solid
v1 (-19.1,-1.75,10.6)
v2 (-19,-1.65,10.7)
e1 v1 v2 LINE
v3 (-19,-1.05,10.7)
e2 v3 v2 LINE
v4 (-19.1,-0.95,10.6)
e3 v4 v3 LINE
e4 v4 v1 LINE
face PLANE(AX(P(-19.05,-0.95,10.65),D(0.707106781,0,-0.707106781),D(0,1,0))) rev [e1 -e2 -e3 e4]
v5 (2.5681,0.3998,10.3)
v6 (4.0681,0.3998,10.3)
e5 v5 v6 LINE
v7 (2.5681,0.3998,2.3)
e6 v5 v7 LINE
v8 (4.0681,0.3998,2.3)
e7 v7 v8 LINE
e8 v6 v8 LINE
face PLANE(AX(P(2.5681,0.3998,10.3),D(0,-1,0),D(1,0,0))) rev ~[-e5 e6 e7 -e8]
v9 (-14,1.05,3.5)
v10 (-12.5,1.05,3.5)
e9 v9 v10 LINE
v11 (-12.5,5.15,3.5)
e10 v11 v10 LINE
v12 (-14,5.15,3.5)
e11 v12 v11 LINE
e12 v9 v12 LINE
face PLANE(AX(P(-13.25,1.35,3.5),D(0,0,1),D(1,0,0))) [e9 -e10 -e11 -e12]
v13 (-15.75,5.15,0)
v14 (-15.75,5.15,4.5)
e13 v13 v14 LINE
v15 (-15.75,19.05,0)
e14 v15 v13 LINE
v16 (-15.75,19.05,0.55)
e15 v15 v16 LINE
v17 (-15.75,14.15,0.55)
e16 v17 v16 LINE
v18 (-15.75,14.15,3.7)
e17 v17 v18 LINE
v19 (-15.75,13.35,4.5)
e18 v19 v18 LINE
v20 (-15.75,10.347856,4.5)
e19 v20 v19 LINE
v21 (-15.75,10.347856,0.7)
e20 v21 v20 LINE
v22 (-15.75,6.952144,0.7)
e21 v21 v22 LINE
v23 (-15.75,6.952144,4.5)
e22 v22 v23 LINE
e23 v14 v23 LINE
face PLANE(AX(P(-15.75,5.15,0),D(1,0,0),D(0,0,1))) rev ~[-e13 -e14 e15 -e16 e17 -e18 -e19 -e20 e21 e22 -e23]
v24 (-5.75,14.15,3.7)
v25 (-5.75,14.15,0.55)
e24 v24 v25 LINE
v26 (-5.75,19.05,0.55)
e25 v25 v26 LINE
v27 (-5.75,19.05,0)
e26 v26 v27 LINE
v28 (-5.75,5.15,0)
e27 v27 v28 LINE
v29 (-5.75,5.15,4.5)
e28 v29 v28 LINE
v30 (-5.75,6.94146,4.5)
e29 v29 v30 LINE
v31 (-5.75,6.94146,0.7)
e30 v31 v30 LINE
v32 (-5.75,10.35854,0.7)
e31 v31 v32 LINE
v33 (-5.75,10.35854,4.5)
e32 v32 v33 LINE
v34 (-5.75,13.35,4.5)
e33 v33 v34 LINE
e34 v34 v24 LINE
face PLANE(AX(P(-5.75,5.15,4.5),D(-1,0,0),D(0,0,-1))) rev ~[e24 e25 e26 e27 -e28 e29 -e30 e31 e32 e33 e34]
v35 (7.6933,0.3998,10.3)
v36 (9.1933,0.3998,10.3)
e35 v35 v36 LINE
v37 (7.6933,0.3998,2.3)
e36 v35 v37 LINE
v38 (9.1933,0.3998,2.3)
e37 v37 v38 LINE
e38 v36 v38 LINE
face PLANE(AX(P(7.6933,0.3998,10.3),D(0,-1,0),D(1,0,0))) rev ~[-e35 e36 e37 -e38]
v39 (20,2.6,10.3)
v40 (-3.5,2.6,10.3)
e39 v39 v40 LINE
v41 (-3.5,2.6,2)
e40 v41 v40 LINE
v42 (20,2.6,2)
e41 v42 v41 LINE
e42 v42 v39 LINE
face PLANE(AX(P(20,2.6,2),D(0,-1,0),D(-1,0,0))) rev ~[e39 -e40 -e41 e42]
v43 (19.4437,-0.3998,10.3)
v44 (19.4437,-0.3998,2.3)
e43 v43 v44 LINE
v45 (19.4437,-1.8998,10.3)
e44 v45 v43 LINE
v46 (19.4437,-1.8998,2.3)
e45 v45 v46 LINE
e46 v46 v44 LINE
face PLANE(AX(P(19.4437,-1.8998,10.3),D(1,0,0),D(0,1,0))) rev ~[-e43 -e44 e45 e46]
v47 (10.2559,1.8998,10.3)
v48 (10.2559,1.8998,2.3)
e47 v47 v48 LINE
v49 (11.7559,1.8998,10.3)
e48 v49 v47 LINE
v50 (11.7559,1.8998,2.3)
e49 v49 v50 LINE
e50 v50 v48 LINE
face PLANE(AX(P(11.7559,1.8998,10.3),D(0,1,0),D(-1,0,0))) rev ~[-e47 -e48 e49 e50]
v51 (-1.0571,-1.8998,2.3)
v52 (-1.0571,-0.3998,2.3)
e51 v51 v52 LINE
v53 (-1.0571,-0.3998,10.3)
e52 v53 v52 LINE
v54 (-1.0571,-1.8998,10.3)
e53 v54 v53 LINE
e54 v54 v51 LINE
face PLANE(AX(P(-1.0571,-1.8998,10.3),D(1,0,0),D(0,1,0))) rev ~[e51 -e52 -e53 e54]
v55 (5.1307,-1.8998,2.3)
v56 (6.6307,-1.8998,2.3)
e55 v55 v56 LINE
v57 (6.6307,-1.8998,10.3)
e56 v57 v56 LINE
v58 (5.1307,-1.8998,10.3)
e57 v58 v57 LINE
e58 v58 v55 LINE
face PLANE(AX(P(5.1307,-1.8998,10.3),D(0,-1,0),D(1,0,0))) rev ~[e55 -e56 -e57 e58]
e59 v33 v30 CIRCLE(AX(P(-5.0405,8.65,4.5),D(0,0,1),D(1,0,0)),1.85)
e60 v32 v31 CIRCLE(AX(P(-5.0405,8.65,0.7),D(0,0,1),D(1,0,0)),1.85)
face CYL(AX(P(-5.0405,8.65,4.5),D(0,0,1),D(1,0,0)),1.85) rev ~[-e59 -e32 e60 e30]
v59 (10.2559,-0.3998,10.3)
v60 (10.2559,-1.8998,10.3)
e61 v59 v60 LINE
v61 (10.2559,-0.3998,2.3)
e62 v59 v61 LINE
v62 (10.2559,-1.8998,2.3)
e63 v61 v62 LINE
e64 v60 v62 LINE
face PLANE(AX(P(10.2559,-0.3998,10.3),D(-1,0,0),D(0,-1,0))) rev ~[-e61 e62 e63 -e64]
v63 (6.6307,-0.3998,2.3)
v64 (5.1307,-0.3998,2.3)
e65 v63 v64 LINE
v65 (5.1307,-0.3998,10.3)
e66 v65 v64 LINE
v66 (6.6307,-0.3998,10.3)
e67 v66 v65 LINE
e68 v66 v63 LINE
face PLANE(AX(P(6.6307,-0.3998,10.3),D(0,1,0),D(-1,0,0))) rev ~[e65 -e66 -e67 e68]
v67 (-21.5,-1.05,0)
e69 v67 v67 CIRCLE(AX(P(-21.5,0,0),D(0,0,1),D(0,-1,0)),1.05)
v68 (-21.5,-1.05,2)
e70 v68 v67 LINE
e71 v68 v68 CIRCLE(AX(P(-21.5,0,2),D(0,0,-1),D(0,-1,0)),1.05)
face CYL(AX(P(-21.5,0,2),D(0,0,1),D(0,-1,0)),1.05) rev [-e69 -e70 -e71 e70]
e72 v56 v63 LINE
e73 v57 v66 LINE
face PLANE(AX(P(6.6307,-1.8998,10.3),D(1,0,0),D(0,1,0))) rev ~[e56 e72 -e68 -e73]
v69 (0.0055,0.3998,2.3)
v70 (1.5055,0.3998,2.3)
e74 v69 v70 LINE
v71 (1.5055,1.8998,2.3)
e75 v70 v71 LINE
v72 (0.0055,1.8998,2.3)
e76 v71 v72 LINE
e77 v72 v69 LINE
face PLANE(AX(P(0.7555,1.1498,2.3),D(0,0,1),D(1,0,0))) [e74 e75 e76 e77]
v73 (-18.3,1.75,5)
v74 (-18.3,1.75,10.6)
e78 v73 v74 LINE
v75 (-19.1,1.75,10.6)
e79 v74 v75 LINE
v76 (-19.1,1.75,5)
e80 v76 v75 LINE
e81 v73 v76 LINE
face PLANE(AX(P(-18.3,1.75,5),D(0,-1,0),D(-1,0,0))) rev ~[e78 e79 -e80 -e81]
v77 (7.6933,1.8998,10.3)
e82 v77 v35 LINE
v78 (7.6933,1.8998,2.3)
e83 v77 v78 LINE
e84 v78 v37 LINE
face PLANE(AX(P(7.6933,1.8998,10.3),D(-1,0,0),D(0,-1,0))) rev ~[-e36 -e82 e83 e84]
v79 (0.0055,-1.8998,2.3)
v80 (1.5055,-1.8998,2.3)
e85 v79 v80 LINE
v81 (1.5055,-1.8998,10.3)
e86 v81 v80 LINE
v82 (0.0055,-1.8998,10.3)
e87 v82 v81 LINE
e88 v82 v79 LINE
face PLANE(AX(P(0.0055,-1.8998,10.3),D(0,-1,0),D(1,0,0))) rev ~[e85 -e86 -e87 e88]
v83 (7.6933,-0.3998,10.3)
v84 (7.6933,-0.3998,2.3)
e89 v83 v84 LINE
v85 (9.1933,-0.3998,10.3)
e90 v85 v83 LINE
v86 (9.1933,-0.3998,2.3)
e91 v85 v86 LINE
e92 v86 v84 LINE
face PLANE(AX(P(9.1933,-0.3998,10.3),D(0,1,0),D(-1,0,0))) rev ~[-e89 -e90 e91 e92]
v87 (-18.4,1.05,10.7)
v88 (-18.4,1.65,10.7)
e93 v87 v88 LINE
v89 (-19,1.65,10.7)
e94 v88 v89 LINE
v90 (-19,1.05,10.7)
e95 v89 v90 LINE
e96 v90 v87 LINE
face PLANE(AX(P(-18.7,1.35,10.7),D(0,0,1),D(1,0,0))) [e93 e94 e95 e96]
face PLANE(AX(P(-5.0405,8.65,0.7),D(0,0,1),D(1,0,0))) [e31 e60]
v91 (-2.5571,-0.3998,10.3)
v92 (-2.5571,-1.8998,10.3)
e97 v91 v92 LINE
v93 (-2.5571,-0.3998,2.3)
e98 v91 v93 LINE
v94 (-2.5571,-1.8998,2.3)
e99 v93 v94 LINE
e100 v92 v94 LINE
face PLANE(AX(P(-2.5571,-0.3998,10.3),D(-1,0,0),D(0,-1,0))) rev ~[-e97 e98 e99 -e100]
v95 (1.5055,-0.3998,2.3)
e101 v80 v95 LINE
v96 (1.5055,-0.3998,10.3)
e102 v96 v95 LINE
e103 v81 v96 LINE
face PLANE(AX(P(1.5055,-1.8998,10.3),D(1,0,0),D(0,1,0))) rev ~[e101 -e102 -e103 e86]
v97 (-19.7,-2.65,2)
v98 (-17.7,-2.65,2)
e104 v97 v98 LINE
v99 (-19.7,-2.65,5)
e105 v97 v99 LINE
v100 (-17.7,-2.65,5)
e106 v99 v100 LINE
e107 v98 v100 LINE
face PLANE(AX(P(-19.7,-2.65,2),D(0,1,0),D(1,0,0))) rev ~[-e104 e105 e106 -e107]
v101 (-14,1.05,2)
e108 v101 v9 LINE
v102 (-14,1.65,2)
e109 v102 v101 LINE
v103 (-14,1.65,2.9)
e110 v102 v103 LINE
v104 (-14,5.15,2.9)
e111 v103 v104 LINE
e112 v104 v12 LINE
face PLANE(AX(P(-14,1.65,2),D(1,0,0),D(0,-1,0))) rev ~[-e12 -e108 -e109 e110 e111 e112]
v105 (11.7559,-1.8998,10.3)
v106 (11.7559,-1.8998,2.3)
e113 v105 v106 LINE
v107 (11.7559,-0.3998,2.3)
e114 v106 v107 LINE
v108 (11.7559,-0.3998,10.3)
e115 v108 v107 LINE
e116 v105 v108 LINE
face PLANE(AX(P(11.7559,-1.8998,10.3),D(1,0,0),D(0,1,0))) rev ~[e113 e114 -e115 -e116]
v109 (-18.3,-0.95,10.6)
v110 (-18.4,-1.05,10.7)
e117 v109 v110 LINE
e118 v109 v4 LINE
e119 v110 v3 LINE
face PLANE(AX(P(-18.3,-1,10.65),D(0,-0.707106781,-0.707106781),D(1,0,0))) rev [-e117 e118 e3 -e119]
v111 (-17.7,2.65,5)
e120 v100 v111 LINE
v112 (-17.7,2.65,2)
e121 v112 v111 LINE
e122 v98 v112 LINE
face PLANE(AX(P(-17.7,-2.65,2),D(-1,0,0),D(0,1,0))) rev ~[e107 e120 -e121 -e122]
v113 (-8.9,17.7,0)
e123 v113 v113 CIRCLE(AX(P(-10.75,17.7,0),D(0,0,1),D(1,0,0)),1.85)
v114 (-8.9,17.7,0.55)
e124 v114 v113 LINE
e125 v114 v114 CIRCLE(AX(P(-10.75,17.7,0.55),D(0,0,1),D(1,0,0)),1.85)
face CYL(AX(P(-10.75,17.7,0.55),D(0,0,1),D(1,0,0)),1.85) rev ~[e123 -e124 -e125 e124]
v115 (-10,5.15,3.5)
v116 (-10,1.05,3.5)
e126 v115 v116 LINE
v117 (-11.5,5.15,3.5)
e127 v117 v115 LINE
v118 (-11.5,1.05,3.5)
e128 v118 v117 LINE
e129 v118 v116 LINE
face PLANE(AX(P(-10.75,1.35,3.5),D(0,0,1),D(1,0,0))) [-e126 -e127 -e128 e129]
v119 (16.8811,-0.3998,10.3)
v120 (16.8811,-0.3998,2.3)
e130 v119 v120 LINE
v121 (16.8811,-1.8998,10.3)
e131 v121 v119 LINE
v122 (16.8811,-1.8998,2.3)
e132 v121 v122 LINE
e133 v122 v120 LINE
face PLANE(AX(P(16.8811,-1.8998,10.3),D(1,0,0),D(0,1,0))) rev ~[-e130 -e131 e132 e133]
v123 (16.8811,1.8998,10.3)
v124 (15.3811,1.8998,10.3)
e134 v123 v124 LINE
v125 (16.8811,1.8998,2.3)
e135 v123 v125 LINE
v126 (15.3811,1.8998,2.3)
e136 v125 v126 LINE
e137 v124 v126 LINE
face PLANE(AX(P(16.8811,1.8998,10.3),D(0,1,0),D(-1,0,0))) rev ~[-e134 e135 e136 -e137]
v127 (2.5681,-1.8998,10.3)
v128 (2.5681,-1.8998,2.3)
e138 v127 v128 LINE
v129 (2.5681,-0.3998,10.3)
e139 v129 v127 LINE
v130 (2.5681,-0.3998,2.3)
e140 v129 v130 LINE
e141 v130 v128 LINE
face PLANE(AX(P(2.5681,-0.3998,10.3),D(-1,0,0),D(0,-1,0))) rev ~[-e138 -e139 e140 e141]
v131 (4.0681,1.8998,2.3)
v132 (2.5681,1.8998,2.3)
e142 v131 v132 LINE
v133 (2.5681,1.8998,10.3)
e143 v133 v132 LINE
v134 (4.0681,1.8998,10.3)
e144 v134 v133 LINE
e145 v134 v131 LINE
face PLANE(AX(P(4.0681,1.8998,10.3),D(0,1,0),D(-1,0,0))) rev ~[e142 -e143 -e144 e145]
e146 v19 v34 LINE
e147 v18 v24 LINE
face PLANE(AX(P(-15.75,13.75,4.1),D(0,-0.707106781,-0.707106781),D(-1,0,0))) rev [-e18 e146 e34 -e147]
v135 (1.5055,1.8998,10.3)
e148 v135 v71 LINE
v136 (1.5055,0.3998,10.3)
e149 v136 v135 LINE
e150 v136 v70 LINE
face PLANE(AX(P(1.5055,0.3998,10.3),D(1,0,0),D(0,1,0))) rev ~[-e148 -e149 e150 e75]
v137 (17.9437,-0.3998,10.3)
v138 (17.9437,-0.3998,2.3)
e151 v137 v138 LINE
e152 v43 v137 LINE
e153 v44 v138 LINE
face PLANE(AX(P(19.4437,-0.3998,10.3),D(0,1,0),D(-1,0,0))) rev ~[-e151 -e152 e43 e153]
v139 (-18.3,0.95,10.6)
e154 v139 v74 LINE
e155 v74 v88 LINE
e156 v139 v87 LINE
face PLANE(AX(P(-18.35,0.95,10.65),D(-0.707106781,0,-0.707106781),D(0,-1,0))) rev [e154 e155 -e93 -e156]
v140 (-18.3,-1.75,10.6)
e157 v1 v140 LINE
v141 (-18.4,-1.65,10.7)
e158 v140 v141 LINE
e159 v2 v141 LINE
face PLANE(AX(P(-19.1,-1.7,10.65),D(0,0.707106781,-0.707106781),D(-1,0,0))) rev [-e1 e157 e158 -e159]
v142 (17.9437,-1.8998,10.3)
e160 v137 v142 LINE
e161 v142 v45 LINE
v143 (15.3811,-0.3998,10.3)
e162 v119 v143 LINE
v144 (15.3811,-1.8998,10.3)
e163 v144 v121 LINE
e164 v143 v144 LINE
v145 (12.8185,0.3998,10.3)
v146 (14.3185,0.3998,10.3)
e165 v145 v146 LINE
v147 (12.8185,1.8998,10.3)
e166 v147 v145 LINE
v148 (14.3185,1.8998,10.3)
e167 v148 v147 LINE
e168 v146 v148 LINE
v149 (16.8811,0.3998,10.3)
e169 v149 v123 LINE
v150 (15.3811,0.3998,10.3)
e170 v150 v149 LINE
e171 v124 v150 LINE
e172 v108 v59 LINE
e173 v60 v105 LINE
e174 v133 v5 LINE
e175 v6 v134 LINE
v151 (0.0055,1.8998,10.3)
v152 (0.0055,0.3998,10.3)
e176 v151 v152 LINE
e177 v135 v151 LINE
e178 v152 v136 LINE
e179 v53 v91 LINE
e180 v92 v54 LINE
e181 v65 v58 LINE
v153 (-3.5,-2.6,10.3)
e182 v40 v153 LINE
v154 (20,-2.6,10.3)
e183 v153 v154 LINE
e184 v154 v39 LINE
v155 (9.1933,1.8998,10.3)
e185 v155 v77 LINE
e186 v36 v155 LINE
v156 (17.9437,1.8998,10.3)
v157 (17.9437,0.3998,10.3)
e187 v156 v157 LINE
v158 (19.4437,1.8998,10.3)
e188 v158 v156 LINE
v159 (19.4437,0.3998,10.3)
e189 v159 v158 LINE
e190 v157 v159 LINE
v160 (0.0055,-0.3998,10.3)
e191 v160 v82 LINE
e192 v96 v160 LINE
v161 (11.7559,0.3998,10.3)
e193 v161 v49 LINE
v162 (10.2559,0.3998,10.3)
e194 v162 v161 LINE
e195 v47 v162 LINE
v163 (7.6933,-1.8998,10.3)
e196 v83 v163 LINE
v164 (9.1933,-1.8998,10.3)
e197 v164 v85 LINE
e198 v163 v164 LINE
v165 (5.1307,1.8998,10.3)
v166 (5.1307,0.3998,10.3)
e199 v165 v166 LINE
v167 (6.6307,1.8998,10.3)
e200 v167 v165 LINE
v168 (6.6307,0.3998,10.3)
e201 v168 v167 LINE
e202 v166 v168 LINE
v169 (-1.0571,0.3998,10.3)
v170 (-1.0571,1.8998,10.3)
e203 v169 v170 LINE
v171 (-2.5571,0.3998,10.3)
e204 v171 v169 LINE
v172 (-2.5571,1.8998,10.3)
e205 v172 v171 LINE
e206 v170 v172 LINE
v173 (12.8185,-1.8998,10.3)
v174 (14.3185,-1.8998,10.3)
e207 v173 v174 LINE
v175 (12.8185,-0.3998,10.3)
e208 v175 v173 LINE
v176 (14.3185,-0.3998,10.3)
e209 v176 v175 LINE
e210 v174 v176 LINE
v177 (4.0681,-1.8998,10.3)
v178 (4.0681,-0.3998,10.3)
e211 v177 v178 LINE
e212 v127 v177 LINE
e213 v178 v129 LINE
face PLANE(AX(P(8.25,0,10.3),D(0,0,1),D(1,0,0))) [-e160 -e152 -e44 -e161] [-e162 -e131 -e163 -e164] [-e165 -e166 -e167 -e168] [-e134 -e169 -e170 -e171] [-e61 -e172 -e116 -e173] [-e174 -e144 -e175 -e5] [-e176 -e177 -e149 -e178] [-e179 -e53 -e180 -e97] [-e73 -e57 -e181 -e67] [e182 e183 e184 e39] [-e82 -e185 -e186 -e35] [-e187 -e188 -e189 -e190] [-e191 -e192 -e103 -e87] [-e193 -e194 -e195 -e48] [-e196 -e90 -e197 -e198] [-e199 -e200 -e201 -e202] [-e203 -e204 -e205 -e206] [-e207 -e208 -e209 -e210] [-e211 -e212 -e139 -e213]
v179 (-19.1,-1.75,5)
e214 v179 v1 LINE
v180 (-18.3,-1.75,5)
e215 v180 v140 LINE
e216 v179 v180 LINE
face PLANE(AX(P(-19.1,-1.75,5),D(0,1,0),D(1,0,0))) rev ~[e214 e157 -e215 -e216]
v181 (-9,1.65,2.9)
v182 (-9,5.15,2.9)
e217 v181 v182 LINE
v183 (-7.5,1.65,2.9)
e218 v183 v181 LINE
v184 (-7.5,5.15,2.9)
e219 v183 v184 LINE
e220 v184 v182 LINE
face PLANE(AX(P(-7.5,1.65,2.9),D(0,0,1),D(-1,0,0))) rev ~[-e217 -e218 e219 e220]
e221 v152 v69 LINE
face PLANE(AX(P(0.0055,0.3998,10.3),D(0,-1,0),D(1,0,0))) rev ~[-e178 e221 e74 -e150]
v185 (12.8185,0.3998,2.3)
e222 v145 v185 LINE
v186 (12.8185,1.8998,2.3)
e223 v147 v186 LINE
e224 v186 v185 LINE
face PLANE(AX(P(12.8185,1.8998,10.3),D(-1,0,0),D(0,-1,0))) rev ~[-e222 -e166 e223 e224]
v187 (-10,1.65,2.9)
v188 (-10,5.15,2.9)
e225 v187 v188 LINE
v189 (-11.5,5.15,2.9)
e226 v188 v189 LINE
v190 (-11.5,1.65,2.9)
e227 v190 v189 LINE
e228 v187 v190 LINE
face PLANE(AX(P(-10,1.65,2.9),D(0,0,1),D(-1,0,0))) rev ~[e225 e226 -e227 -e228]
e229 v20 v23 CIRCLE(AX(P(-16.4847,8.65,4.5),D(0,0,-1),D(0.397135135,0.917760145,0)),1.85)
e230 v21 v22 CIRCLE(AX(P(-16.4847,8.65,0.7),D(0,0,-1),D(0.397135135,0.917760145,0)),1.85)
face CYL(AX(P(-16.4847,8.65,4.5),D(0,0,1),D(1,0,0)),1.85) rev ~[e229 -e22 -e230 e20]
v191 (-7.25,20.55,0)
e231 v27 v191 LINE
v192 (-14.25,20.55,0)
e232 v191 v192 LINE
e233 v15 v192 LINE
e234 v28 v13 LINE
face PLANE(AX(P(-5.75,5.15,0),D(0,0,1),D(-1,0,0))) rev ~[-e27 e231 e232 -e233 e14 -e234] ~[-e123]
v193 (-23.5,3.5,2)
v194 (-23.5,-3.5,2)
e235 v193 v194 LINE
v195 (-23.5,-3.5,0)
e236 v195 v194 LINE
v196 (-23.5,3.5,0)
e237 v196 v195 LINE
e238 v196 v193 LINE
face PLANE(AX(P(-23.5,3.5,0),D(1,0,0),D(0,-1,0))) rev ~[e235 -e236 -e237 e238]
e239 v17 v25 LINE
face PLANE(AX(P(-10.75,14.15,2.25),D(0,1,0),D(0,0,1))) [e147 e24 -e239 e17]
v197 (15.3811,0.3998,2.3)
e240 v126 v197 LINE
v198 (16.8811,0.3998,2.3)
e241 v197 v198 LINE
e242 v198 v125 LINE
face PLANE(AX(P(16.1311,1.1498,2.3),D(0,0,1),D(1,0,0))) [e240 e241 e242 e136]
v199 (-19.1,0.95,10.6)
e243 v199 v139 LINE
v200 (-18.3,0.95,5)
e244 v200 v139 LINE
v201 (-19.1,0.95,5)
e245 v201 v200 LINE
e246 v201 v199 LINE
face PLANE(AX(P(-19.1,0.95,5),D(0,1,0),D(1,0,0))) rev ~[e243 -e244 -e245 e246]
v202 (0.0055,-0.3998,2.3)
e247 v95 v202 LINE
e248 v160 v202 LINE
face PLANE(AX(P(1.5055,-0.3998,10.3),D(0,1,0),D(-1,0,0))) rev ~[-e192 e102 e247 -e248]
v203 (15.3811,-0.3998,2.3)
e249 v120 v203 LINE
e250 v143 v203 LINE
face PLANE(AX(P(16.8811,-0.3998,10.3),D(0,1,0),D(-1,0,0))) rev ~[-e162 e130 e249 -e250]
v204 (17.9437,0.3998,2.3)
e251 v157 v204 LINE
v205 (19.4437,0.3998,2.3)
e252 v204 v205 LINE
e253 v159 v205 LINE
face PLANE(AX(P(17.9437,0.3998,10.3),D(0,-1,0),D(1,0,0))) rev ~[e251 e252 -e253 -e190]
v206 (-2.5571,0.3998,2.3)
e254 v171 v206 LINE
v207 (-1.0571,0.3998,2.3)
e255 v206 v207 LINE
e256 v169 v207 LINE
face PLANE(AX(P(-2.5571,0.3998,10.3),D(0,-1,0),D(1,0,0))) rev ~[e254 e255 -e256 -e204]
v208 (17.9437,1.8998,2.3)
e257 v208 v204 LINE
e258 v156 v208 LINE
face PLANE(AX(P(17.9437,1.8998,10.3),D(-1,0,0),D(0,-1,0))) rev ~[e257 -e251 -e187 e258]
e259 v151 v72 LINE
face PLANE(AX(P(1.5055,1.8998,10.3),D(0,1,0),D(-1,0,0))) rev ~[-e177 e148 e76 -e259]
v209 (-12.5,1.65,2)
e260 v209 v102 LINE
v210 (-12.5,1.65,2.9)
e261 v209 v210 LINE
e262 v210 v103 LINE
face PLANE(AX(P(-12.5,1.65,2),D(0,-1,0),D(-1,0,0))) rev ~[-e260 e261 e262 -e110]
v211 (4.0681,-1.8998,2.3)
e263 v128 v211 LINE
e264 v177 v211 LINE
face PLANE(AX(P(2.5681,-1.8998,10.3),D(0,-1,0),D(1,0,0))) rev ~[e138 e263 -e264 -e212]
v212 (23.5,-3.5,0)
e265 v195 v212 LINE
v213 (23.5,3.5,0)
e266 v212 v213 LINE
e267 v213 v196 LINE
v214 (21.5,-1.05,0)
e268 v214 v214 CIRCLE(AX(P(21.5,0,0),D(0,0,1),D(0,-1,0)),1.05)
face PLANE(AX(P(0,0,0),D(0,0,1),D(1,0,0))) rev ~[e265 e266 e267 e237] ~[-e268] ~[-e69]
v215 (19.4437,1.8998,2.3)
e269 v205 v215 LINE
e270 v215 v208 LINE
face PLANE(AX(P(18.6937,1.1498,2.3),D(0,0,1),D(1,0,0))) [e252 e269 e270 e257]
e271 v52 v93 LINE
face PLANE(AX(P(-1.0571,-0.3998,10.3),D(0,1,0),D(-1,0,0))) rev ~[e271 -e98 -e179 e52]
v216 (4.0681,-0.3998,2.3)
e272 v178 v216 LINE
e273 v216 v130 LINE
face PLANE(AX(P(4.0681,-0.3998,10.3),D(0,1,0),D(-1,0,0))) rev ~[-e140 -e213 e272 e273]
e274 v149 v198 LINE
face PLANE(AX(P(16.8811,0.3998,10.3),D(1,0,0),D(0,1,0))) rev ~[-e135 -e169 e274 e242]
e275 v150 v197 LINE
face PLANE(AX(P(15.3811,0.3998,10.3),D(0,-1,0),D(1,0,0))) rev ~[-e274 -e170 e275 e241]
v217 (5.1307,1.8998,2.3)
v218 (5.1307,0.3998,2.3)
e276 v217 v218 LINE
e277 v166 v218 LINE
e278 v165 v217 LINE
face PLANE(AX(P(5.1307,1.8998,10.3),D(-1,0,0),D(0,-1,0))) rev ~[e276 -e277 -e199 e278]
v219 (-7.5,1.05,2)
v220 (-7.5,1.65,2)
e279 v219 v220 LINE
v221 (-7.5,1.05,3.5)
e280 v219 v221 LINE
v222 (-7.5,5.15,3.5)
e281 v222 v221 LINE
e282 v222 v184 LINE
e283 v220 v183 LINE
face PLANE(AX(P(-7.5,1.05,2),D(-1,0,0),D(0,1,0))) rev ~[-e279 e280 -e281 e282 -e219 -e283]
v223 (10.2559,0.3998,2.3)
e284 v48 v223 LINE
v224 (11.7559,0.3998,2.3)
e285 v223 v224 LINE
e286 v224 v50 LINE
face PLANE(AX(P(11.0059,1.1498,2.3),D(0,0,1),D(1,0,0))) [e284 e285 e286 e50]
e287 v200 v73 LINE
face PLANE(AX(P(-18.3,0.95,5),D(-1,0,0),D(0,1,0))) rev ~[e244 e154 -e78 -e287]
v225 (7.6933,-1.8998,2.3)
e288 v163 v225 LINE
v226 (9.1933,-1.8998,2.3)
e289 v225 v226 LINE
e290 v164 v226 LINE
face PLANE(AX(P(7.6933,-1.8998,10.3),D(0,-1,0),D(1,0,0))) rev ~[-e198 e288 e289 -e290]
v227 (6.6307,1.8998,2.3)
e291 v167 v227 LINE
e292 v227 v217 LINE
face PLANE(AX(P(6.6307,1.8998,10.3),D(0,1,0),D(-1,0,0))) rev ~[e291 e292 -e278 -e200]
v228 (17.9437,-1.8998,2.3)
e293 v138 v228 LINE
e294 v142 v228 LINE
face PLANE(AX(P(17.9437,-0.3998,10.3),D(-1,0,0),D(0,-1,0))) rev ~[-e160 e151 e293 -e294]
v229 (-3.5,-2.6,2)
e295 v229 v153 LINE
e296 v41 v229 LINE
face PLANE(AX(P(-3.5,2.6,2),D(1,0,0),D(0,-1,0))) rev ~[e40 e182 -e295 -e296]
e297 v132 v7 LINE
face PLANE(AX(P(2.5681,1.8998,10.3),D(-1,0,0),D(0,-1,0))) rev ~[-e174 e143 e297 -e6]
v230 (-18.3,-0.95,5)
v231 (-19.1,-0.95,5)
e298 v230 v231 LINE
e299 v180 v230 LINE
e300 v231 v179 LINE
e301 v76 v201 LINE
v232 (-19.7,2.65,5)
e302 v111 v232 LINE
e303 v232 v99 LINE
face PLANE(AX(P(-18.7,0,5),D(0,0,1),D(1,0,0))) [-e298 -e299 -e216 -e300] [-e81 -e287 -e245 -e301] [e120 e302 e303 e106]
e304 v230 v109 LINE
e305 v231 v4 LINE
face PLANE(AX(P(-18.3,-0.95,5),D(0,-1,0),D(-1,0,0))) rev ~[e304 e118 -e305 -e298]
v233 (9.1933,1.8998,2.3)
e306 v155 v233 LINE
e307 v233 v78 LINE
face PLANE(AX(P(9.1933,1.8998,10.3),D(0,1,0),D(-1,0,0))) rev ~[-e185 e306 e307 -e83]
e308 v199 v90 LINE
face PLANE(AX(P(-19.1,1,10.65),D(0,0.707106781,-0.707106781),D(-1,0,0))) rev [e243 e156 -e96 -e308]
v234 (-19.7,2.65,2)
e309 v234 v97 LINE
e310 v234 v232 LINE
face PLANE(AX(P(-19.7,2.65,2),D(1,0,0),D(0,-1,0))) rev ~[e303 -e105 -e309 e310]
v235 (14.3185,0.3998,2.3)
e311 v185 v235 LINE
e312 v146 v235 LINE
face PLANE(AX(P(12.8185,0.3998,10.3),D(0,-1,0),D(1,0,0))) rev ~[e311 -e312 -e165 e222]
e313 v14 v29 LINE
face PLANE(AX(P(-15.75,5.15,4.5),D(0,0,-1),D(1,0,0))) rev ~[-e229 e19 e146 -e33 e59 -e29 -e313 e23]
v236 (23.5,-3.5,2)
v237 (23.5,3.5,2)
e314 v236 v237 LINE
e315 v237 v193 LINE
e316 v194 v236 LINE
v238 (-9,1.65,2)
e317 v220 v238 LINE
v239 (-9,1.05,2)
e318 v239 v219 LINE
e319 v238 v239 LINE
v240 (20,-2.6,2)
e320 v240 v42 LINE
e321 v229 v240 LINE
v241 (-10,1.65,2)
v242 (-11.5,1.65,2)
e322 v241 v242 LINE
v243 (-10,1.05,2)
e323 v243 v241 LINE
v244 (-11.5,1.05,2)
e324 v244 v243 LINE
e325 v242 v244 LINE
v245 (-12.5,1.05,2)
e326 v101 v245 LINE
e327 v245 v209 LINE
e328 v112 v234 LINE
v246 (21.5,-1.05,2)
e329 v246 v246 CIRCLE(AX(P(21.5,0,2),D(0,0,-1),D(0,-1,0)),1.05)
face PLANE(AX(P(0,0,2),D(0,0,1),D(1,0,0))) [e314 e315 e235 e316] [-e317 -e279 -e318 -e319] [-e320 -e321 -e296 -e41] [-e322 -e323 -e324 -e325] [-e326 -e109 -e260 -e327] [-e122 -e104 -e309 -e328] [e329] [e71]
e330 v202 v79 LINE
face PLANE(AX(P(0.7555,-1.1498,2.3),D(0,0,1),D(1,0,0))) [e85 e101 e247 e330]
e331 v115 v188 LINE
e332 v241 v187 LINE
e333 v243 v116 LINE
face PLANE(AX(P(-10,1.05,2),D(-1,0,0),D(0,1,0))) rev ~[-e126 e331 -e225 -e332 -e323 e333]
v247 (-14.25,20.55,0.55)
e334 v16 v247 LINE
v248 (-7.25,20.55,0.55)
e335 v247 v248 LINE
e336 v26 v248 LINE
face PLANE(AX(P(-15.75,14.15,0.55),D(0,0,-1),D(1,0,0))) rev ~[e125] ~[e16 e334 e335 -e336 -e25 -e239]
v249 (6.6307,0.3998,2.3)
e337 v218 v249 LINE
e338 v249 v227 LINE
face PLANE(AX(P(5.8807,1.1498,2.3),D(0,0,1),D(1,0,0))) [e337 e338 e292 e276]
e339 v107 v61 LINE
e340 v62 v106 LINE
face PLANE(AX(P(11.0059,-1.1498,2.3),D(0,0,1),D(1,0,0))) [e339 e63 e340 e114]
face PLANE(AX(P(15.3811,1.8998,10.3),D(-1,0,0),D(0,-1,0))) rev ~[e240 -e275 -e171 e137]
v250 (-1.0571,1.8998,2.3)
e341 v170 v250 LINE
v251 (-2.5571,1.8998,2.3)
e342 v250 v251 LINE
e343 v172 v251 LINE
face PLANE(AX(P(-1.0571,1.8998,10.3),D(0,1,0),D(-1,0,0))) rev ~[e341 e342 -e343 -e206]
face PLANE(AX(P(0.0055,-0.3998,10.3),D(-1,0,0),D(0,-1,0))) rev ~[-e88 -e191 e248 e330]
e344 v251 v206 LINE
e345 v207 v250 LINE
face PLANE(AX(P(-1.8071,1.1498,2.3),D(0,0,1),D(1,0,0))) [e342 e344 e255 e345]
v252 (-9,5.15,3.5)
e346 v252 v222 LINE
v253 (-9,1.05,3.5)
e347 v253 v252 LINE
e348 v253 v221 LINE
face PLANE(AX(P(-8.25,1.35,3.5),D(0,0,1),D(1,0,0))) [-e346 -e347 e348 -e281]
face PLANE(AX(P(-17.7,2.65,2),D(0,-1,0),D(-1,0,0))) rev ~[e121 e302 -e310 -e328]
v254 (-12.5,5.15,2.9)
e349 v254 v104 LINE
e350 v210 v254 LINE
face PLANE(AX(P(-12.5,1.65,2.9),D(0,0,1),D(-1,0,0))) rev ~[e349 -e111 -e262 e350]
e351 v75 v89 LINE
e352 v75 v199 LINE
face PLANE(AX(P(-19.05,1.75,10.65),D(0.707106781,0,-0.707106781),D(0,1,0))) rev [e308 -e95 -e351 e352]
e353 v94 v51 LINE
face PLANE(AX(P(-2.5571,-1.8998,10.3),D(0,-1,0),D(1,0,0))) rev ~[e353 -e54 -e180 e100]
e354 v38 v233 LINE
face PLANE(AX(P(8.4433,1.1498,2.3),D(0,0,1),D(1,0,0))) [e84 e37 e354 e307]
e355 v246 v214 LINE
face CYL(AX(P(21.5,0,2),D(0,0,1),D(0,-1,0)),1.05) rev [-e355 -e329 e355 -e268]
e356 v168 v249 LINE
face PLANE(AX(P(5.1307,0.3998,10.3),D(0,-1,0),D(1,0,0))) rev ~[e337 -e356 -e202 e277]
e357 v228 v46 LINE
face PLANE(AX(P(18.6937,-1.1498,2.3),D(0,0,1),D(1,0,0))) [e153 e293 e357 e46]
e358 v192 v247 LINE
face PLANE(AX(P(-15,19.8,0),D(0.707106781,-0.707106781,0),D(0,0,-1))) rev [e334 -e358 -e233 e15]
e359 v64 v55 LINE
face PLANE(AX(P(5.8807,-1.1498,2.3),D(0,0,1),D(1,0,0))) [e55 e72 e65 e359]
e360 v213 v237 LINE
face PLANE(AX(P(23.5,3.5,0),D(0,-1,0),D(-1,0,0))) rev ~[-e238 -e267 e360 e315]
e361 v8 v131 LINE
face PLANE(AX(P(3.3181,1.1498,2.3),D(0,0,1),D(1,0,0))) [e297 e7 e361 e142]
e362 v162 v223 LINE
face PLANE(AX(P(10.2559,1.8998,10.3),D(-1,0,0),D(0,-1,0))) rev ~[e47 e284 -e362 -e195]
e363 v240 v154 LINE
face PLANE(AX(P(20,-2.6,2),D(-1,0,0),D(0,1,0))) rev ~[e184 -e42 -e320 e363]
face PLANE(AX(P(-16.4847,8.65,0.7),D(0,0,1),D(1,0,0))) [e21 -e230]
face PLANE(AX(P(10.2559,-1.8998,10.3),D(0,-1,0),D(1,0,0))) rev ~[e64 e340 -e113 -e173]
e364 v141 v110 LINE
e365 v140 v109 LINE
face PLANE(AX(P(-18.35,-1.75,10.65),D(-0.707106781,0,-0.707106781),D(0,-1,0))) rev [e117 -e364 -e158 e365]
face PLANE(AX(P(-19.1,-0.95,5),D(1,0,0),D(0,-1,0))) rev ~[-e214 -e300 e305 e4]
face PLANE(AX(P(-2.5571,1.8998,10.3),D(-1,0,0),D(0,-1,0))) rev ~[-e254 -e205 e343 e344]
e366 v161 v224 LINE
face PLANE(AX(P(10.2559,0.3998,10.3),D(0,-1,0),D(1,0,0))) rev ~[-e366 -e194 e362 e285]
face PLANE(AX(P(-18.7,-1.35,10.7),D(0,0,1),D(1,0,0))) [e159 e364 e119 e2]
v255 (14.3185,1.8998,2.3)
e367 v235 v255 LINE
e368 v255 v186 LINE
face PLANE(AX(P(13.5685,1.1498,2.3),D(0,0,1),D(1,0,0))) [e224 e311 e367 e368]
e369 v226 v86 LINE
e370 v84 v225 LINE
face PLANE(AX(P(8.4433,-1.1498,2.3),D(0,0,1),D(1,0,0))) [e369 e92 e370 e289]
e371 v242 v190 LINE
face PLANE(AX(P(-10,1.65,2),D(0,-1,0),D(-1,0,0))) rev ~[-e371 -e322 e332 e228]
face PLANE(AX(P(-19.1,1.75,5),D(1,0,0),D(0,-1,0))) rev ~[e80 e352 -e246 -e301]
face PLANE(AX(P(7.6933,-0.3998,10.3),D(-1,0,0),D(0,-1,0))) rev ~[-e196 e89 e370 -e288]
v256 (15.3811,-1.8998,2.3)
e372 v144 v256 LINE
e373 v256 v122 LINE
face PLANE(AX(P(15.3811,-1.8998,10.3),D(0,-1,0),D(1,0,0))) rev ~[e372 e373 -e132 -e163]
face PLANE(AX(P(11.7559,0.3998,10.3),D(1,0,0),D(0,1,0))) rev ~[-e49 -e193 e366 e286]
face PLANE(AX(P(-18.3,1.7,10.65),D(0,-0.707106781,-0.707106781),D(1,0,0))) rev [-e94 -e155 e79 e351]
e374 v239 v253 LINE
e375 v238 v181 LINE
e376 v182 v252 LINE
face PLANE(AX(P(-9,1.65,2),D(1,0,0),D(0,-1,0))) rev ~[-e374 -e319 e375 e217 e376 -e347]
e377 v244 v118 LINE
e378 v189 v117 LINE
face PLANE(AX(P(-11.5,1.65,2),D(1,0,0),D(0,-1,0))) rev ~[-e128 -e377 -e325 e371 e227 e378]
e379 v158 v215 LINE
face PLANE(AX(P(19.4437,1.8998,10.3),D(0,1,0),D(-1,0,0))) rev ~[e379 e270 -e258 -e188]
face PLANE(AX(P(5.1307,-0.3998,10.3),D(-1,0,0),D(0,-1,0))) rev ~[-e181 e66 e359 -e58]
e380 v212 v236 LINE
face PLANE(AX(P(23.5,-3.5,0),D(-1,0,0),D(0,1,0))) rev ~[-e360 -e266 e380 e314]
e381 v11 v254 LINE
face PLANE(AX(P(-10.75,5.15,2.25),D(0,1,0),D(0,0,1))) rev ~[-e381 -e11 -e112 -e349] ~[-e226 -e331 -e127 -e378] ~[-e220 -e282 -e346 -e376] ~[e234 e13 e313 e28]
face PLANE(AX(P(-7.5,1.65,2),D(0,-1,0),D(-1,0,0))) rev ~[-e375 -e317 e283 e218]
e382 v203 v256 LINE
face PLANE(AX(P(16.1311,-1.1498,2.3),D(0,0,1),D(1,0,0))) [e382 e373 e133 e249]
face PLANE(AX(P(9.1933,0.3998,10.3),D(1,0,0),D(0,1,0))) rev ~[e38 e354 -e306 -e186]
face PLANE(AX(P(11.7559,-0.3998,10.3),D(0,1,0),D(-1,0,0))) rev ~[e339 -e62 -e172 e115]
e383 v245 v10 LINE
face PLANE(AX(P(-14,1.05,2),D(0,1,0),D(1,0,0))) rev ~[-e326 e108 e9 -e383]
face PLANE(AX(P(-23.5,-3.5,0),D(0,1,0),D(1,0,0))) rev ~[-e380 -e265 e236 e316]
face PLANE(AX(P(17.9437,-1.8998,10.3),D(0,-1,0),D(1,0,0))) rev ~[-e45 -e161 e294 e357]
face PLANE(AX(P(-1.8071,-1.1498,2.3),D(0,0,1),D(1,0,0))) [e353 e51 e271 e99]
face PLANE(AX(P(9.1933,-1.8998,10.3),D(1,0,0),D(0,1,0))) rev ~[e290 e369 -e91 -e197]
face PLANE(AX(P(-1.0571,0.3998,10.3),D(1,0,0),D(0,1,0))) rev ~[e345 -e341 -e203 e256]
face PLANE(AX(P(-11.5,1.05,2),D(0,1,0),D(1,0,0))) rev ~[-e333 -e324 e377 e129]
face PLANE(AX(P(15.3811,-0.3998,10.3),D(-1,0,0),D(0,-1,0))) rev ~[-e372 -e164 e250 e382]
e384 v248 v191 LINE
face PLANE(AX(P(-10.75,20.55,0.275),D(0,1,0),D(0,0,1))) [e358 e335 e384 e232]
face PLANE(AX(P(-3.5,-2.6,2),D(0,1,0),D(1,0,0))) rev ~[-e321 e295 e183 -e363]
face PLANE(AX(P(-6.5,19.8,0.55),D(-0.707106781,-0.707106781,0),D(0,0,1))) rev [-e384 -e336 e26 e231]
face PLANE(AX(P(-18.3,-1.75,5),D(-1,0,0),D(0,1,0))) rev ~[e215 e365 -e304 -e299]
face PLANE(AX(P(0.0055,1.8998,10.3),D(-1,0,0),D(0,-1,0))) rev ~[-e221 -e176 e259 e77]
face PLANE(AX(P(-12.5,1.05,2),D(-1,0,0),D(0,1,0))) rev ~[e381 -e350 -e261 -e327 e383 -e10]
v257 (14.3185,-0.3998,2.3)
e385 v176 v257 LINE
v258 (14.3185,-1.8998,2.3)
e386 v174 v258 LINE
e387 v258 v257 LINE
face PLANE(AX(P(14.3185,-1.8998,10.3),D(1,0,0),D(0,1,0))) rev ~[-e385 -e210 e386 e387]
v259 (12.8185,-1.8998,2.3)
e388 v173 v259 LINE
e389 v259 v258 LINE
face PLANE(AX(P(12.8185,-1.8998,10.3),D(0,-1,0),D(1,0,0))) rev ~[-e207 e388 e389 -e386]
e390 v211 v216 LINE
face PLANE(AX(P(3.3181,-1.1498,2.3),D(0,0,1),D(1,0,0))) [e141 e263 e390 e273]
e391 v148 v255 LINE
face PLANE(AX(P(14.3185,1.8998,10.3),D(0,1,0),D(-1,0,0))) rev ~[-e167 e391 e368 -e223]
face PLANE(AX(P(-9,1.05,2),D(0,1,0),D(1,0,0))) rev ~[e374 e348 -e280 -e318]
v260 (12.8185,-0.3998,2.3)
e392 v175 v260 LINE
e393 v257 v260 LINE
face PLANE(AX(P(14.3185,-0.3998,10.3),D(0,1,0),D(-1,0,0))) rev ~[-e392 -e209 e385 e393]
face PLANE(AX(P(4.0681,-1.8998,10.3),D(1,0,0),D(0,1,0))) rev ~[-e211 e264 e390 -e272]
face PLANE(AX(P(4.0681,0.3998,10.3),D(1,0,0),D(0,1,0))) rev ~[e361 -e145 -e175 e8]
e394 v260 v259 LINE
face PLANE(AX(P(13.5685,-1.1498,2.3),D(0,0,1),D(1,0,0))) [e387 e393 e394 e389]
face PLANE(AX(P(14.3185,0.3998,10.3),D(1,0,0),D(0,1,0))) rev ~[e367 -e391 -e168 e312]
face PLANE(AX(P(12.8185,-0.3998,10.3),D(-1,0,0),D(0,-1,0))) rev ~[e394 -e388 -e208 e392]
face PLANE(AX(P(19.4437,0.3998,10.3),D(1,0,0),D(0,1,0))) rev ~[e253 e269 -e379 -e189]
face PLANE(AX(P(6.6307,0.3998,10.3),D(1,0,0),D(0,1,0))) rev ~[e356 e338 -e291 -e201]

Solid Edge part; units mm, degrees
sketch "Sketch1" plane through (0, 0, 0) normal (0, 0, 1) x (1, 0, 0)
  line L0 (-23.5, -3.5) -> (23.5, -3.5)
  line L1 (23.5, -3.5) -> (23.5, 3.5)
  line L2 (23.5, 3.5) -> (-23.5, 3.5)
  line L3 (-23.5, 3.5) -> (-23.5, -3.5)
  dimension "D1" = 7
  dimension "D2" = 47
extrude "Protrusion1" add sketch "Sketch1" along normal blind 2
hole "Agujero_1" at (-21.5, 0, 2) direction (0, 0, -1) diameter 2.1 end up to next
hole "Hole1" at (21.5, 0, 2) direction (0, 0, -1) diameter 2.1 end up to next
sketch "Sketch2" plane through (0, 0, 2) normal (0, 0, 1) x (1, 0, 0)
  line L0 (-3.5, -2.6) -> (20, -2.6)
  line L1 (20, -2.6) -> (20, 2.6)
  line L2 (20, 2.6) -> (-3.5, 2.6)
  line L3 (-3.5, 2.6) -> (-3.5, -2.6)
  dimension "D1" = 5.2
  dimension "D2" = 23.5
  dimension "D3" = 1.5
extrude "ProtrusiónExtruida_33" add sketch "Sketch2" along normal blind 8.3
sketch "Sketch3" plane through (8.25, 0, 10.3) normal (0, 0, 1) x (1, 0, 0)
  line L0 (-10.8071, 0.3998) -> (-9.3071, 0.3998)
  line L1 (-9.3071, 0.3998) -> (-9.3071, 1.8998)
  line L2 (-9.3071, 1.8998) -> (-10.8071, 1.8998)
  line L3 (-10.8071, 1.8998) -> (-10.8071, 0.3998)
  line L4 (-10.8071, -1.8998) -> (-9.3071, -1.8998)
  line L5 (-9.3071, -1.8998) -> (-9.3071, -0.3998)
  line L6 (-9.3071, -0.3998) -> (-10.8071, -0.3998)
  line L7 (-10.8071, -0.3998) -> (-10.8071, -1.8998)
  dimension "D1" = 1.5
  dimension "D2" = 1.5
extrude "VaciadoExtruido_3" cut sketch "Sketch3" against normal blind 8
pattern_linear "Pattern2" count 9 spacing 2.5626 along (1, 0, 0) of "VaciadoExtruido_3"
sketch "Sketch4" plane through (0, 0, 2) normal (0, 0, 1) x (1, 0, 0)
  line L0 (-19.7, -2.65) -> (-17.7, -2.65)
  line L1 (-17.7, -2.65) -> (-17.7, 2.65)
  line L2 (-17.7, 2.65) -> (-19.7, 2.65)
  line L3 (-19.7, 2.65) -> (-19.7, -2.65)
  dimension "D1" = 2
  dimension "D2" = 5.3
  dimension "D3" = 3.8
extrude "ProtrusiónExtruida_34" add sketch "Sketch4" along normal blind 3
sketch "Sketch5" plane through (-18.7, 0, 5) normal (0, 0, 1) x (1, 0, 0)
  line L0 (-0.4, 0.95) -> (0.4, 0.95)
  line L1 (0.4, 0.95) -> (0.4, 1.75)
  line L2 (0.4, 1.75) -> (-0.4, 1.75)
  line L3 (-0.4, 1.75) -> (-0.4, 0.95)
  line L4 (-0.4, -1.75) -> (0.4, -1.75)
  line L5 (0.4, -1.75) -> (0.4, -0.95)
  line L6 (0.4, -0.95) -> (-0.4, -0.95)
  line L7 (-0.4, -0.95) -> (-0.4, -1.75)
  dimension "D1" = 0.8
  dimension "D2" = 0.8
  dimension "D3" = 1.9
extrude "ProtrusiónExtruida_35" add sketch "Sketch5" along normal blind 5.7
chamfer "Chaflán_3" distance 0.1 angle 45 8 edges at (-18.7, -1.75, 10.7) (-18.3, -1.35, 10.7) (-18.7, -0.95, 10.7) (-19.1, -1.35, 10.7) (-18.7, 0.95, 10.7) (-19.1, 1.35, 10.7) (-18.7, 1.75, 10.7) (-18.3, 1.35, 10.7)
sketch "Sketch6" plane through (0, 0, 2) normal (0, 0, 1) x (1, 0, 0)
  line L0 (-14, 1.05) -> (-12.5, 1.05)
  line L1 (-12.5, 1.05) -> (-12.5, 1.65)
  line L2 (-12.5, 1.65) -> (-14, 1.65)
  line L3 (-14, 1.65) -> (-14, 1.05)
  line L4 (-11.5, 1.05) -> (-10, 1.05)
  line L5 (-10, 1.05) -> (-10, 1.65)
  line L6 (-10, 1.65) -> (-11.5, 1.65)
  line L7 (-11.5, 1.65) -> (-11.5, 1.05)
  line L8 (-9, 1.05) -> (-7.5, 1.05)
  line L9 (-7.5, 1.05) -> (-7.5, 1.65)
  line L10 (-7.5, 1.65) -> (-9, 1.65)
  line L11 (-9, 1.65) -> (-9, 1.05)
  dimension "D1" = 1.5
  dimension "D2" = 6.5
  dimension "D3" = 0.6
  dimension "D4" = 16
extrude "ProtrusiónExtruida_36" add sketch "Sketch6" along normal blind 1.5
sketch "Sketch7" plane through (-10.75, 1.65, 2.75) normal (0, 1, 0) x (0, 0, 1)
  line L0 (0.15, -0.75) -> (0.75, -0.75)
  line L1 (0.75, -0.75) -> (0.75, 0.75)
  line L2 (0.75, 0.75) -> (0.15, 0.75)
  line L3 (0.15, 0.75) -> (0.15, -0.75)
  line L4 (0.15, 1.75) -> (0.75, 1.75)
  line L5 (0.75, 1.75) -> (0.75, 3.25)
  line L6 (0.75, 3.25) -> (0.15, 3.25)
  line L7 (0.15, 3.25) -> (0.15, 1.75)
  line L8 (0.15, -3.25) -> (0.75, -3.25)
  line L9 (0.75, -3.25) -> (0.75, -1.75)
  line L10 (0.75, -1.75) -> (0.15, -1.75)
  line L11 (0.15, -1.75) -> (0.15, -3.25)
  dimension "D1" = 0.6
extrude "ProtrusiónExtruida_37" add sketch "Sketch7" along normal blind 3.5
sketch "Sketch8" plane through (-10.75, 5.15, 3.2) normal (0, 1, 0) x (0, 0, 1)
  line L0 (-3.2, -5) -> (1.3, -5)
  line L1 (1.3, -5) -> (1.3, 5)
  line L2 (1.3, 5) -> (-3.2, 5)
  line L3 (-3.2, 5) -> (-3.2, -5)
  dimension "D1" = 10
  dimension "D2" = 4.5
  dimension "D3" = 1.6
extrude "ProtrusiónExtruida_38" add sketch "Sketch8" along normal blind 9
sketch "Sketch9" plane through (-10.75, 14.15, 2.25) normal (0, 1, 0) x (1, 0, 0)
  line L0 (-5, 1.7) -> (5, 1.7)
  line L1 (5, 1.7) -> (5, 2.25)
  line L2 (5, 2.25) -> (-5, 2.25)
  line L3 (-5, 2.25) -> (-5, 1.7)
  dimension "D1" = 0.55
extrude "ProtrusiónExtruida_39" add sketch "Sketch9" along normal blind 6.4
chamfer "Chaflán_4" distance 1.5 angle 45 2 edges at (-15.75, 20.55, 0.275) (-5.75, 20.55, 0.275)
sketch "Sketch10" plane through (-10.75, 17.35, 0.55) normal (0, 0, 1) x (1, 0, 0)
  circle A0 centre (0, 0.35) radius 1.85
  dimension "D1" = 3.7
  dimension "D2" = 1
extrude "Cutout9" cut sketch "Sketch10" against normal up to next
sketch "Sketch11" plane through (-10.75, 9.65, 4.5) normal (0, 0, 1) x (1, 0, 0)
  circle A0 centre (-5.7347, -1) radius 1.85
  circle A1 centre (5.7095, -1) radius 1.85
  dimension "D1" = 3.7
  dimension "D2" = 3.5
extrude "VaciadoExtruido_13" cut sketch "Sketch11" against normal blind 3.8
chamfer "Chaflán_5" distance 0.8 angle 45 1 edges at (-10.75, 14.15, 4.5)
